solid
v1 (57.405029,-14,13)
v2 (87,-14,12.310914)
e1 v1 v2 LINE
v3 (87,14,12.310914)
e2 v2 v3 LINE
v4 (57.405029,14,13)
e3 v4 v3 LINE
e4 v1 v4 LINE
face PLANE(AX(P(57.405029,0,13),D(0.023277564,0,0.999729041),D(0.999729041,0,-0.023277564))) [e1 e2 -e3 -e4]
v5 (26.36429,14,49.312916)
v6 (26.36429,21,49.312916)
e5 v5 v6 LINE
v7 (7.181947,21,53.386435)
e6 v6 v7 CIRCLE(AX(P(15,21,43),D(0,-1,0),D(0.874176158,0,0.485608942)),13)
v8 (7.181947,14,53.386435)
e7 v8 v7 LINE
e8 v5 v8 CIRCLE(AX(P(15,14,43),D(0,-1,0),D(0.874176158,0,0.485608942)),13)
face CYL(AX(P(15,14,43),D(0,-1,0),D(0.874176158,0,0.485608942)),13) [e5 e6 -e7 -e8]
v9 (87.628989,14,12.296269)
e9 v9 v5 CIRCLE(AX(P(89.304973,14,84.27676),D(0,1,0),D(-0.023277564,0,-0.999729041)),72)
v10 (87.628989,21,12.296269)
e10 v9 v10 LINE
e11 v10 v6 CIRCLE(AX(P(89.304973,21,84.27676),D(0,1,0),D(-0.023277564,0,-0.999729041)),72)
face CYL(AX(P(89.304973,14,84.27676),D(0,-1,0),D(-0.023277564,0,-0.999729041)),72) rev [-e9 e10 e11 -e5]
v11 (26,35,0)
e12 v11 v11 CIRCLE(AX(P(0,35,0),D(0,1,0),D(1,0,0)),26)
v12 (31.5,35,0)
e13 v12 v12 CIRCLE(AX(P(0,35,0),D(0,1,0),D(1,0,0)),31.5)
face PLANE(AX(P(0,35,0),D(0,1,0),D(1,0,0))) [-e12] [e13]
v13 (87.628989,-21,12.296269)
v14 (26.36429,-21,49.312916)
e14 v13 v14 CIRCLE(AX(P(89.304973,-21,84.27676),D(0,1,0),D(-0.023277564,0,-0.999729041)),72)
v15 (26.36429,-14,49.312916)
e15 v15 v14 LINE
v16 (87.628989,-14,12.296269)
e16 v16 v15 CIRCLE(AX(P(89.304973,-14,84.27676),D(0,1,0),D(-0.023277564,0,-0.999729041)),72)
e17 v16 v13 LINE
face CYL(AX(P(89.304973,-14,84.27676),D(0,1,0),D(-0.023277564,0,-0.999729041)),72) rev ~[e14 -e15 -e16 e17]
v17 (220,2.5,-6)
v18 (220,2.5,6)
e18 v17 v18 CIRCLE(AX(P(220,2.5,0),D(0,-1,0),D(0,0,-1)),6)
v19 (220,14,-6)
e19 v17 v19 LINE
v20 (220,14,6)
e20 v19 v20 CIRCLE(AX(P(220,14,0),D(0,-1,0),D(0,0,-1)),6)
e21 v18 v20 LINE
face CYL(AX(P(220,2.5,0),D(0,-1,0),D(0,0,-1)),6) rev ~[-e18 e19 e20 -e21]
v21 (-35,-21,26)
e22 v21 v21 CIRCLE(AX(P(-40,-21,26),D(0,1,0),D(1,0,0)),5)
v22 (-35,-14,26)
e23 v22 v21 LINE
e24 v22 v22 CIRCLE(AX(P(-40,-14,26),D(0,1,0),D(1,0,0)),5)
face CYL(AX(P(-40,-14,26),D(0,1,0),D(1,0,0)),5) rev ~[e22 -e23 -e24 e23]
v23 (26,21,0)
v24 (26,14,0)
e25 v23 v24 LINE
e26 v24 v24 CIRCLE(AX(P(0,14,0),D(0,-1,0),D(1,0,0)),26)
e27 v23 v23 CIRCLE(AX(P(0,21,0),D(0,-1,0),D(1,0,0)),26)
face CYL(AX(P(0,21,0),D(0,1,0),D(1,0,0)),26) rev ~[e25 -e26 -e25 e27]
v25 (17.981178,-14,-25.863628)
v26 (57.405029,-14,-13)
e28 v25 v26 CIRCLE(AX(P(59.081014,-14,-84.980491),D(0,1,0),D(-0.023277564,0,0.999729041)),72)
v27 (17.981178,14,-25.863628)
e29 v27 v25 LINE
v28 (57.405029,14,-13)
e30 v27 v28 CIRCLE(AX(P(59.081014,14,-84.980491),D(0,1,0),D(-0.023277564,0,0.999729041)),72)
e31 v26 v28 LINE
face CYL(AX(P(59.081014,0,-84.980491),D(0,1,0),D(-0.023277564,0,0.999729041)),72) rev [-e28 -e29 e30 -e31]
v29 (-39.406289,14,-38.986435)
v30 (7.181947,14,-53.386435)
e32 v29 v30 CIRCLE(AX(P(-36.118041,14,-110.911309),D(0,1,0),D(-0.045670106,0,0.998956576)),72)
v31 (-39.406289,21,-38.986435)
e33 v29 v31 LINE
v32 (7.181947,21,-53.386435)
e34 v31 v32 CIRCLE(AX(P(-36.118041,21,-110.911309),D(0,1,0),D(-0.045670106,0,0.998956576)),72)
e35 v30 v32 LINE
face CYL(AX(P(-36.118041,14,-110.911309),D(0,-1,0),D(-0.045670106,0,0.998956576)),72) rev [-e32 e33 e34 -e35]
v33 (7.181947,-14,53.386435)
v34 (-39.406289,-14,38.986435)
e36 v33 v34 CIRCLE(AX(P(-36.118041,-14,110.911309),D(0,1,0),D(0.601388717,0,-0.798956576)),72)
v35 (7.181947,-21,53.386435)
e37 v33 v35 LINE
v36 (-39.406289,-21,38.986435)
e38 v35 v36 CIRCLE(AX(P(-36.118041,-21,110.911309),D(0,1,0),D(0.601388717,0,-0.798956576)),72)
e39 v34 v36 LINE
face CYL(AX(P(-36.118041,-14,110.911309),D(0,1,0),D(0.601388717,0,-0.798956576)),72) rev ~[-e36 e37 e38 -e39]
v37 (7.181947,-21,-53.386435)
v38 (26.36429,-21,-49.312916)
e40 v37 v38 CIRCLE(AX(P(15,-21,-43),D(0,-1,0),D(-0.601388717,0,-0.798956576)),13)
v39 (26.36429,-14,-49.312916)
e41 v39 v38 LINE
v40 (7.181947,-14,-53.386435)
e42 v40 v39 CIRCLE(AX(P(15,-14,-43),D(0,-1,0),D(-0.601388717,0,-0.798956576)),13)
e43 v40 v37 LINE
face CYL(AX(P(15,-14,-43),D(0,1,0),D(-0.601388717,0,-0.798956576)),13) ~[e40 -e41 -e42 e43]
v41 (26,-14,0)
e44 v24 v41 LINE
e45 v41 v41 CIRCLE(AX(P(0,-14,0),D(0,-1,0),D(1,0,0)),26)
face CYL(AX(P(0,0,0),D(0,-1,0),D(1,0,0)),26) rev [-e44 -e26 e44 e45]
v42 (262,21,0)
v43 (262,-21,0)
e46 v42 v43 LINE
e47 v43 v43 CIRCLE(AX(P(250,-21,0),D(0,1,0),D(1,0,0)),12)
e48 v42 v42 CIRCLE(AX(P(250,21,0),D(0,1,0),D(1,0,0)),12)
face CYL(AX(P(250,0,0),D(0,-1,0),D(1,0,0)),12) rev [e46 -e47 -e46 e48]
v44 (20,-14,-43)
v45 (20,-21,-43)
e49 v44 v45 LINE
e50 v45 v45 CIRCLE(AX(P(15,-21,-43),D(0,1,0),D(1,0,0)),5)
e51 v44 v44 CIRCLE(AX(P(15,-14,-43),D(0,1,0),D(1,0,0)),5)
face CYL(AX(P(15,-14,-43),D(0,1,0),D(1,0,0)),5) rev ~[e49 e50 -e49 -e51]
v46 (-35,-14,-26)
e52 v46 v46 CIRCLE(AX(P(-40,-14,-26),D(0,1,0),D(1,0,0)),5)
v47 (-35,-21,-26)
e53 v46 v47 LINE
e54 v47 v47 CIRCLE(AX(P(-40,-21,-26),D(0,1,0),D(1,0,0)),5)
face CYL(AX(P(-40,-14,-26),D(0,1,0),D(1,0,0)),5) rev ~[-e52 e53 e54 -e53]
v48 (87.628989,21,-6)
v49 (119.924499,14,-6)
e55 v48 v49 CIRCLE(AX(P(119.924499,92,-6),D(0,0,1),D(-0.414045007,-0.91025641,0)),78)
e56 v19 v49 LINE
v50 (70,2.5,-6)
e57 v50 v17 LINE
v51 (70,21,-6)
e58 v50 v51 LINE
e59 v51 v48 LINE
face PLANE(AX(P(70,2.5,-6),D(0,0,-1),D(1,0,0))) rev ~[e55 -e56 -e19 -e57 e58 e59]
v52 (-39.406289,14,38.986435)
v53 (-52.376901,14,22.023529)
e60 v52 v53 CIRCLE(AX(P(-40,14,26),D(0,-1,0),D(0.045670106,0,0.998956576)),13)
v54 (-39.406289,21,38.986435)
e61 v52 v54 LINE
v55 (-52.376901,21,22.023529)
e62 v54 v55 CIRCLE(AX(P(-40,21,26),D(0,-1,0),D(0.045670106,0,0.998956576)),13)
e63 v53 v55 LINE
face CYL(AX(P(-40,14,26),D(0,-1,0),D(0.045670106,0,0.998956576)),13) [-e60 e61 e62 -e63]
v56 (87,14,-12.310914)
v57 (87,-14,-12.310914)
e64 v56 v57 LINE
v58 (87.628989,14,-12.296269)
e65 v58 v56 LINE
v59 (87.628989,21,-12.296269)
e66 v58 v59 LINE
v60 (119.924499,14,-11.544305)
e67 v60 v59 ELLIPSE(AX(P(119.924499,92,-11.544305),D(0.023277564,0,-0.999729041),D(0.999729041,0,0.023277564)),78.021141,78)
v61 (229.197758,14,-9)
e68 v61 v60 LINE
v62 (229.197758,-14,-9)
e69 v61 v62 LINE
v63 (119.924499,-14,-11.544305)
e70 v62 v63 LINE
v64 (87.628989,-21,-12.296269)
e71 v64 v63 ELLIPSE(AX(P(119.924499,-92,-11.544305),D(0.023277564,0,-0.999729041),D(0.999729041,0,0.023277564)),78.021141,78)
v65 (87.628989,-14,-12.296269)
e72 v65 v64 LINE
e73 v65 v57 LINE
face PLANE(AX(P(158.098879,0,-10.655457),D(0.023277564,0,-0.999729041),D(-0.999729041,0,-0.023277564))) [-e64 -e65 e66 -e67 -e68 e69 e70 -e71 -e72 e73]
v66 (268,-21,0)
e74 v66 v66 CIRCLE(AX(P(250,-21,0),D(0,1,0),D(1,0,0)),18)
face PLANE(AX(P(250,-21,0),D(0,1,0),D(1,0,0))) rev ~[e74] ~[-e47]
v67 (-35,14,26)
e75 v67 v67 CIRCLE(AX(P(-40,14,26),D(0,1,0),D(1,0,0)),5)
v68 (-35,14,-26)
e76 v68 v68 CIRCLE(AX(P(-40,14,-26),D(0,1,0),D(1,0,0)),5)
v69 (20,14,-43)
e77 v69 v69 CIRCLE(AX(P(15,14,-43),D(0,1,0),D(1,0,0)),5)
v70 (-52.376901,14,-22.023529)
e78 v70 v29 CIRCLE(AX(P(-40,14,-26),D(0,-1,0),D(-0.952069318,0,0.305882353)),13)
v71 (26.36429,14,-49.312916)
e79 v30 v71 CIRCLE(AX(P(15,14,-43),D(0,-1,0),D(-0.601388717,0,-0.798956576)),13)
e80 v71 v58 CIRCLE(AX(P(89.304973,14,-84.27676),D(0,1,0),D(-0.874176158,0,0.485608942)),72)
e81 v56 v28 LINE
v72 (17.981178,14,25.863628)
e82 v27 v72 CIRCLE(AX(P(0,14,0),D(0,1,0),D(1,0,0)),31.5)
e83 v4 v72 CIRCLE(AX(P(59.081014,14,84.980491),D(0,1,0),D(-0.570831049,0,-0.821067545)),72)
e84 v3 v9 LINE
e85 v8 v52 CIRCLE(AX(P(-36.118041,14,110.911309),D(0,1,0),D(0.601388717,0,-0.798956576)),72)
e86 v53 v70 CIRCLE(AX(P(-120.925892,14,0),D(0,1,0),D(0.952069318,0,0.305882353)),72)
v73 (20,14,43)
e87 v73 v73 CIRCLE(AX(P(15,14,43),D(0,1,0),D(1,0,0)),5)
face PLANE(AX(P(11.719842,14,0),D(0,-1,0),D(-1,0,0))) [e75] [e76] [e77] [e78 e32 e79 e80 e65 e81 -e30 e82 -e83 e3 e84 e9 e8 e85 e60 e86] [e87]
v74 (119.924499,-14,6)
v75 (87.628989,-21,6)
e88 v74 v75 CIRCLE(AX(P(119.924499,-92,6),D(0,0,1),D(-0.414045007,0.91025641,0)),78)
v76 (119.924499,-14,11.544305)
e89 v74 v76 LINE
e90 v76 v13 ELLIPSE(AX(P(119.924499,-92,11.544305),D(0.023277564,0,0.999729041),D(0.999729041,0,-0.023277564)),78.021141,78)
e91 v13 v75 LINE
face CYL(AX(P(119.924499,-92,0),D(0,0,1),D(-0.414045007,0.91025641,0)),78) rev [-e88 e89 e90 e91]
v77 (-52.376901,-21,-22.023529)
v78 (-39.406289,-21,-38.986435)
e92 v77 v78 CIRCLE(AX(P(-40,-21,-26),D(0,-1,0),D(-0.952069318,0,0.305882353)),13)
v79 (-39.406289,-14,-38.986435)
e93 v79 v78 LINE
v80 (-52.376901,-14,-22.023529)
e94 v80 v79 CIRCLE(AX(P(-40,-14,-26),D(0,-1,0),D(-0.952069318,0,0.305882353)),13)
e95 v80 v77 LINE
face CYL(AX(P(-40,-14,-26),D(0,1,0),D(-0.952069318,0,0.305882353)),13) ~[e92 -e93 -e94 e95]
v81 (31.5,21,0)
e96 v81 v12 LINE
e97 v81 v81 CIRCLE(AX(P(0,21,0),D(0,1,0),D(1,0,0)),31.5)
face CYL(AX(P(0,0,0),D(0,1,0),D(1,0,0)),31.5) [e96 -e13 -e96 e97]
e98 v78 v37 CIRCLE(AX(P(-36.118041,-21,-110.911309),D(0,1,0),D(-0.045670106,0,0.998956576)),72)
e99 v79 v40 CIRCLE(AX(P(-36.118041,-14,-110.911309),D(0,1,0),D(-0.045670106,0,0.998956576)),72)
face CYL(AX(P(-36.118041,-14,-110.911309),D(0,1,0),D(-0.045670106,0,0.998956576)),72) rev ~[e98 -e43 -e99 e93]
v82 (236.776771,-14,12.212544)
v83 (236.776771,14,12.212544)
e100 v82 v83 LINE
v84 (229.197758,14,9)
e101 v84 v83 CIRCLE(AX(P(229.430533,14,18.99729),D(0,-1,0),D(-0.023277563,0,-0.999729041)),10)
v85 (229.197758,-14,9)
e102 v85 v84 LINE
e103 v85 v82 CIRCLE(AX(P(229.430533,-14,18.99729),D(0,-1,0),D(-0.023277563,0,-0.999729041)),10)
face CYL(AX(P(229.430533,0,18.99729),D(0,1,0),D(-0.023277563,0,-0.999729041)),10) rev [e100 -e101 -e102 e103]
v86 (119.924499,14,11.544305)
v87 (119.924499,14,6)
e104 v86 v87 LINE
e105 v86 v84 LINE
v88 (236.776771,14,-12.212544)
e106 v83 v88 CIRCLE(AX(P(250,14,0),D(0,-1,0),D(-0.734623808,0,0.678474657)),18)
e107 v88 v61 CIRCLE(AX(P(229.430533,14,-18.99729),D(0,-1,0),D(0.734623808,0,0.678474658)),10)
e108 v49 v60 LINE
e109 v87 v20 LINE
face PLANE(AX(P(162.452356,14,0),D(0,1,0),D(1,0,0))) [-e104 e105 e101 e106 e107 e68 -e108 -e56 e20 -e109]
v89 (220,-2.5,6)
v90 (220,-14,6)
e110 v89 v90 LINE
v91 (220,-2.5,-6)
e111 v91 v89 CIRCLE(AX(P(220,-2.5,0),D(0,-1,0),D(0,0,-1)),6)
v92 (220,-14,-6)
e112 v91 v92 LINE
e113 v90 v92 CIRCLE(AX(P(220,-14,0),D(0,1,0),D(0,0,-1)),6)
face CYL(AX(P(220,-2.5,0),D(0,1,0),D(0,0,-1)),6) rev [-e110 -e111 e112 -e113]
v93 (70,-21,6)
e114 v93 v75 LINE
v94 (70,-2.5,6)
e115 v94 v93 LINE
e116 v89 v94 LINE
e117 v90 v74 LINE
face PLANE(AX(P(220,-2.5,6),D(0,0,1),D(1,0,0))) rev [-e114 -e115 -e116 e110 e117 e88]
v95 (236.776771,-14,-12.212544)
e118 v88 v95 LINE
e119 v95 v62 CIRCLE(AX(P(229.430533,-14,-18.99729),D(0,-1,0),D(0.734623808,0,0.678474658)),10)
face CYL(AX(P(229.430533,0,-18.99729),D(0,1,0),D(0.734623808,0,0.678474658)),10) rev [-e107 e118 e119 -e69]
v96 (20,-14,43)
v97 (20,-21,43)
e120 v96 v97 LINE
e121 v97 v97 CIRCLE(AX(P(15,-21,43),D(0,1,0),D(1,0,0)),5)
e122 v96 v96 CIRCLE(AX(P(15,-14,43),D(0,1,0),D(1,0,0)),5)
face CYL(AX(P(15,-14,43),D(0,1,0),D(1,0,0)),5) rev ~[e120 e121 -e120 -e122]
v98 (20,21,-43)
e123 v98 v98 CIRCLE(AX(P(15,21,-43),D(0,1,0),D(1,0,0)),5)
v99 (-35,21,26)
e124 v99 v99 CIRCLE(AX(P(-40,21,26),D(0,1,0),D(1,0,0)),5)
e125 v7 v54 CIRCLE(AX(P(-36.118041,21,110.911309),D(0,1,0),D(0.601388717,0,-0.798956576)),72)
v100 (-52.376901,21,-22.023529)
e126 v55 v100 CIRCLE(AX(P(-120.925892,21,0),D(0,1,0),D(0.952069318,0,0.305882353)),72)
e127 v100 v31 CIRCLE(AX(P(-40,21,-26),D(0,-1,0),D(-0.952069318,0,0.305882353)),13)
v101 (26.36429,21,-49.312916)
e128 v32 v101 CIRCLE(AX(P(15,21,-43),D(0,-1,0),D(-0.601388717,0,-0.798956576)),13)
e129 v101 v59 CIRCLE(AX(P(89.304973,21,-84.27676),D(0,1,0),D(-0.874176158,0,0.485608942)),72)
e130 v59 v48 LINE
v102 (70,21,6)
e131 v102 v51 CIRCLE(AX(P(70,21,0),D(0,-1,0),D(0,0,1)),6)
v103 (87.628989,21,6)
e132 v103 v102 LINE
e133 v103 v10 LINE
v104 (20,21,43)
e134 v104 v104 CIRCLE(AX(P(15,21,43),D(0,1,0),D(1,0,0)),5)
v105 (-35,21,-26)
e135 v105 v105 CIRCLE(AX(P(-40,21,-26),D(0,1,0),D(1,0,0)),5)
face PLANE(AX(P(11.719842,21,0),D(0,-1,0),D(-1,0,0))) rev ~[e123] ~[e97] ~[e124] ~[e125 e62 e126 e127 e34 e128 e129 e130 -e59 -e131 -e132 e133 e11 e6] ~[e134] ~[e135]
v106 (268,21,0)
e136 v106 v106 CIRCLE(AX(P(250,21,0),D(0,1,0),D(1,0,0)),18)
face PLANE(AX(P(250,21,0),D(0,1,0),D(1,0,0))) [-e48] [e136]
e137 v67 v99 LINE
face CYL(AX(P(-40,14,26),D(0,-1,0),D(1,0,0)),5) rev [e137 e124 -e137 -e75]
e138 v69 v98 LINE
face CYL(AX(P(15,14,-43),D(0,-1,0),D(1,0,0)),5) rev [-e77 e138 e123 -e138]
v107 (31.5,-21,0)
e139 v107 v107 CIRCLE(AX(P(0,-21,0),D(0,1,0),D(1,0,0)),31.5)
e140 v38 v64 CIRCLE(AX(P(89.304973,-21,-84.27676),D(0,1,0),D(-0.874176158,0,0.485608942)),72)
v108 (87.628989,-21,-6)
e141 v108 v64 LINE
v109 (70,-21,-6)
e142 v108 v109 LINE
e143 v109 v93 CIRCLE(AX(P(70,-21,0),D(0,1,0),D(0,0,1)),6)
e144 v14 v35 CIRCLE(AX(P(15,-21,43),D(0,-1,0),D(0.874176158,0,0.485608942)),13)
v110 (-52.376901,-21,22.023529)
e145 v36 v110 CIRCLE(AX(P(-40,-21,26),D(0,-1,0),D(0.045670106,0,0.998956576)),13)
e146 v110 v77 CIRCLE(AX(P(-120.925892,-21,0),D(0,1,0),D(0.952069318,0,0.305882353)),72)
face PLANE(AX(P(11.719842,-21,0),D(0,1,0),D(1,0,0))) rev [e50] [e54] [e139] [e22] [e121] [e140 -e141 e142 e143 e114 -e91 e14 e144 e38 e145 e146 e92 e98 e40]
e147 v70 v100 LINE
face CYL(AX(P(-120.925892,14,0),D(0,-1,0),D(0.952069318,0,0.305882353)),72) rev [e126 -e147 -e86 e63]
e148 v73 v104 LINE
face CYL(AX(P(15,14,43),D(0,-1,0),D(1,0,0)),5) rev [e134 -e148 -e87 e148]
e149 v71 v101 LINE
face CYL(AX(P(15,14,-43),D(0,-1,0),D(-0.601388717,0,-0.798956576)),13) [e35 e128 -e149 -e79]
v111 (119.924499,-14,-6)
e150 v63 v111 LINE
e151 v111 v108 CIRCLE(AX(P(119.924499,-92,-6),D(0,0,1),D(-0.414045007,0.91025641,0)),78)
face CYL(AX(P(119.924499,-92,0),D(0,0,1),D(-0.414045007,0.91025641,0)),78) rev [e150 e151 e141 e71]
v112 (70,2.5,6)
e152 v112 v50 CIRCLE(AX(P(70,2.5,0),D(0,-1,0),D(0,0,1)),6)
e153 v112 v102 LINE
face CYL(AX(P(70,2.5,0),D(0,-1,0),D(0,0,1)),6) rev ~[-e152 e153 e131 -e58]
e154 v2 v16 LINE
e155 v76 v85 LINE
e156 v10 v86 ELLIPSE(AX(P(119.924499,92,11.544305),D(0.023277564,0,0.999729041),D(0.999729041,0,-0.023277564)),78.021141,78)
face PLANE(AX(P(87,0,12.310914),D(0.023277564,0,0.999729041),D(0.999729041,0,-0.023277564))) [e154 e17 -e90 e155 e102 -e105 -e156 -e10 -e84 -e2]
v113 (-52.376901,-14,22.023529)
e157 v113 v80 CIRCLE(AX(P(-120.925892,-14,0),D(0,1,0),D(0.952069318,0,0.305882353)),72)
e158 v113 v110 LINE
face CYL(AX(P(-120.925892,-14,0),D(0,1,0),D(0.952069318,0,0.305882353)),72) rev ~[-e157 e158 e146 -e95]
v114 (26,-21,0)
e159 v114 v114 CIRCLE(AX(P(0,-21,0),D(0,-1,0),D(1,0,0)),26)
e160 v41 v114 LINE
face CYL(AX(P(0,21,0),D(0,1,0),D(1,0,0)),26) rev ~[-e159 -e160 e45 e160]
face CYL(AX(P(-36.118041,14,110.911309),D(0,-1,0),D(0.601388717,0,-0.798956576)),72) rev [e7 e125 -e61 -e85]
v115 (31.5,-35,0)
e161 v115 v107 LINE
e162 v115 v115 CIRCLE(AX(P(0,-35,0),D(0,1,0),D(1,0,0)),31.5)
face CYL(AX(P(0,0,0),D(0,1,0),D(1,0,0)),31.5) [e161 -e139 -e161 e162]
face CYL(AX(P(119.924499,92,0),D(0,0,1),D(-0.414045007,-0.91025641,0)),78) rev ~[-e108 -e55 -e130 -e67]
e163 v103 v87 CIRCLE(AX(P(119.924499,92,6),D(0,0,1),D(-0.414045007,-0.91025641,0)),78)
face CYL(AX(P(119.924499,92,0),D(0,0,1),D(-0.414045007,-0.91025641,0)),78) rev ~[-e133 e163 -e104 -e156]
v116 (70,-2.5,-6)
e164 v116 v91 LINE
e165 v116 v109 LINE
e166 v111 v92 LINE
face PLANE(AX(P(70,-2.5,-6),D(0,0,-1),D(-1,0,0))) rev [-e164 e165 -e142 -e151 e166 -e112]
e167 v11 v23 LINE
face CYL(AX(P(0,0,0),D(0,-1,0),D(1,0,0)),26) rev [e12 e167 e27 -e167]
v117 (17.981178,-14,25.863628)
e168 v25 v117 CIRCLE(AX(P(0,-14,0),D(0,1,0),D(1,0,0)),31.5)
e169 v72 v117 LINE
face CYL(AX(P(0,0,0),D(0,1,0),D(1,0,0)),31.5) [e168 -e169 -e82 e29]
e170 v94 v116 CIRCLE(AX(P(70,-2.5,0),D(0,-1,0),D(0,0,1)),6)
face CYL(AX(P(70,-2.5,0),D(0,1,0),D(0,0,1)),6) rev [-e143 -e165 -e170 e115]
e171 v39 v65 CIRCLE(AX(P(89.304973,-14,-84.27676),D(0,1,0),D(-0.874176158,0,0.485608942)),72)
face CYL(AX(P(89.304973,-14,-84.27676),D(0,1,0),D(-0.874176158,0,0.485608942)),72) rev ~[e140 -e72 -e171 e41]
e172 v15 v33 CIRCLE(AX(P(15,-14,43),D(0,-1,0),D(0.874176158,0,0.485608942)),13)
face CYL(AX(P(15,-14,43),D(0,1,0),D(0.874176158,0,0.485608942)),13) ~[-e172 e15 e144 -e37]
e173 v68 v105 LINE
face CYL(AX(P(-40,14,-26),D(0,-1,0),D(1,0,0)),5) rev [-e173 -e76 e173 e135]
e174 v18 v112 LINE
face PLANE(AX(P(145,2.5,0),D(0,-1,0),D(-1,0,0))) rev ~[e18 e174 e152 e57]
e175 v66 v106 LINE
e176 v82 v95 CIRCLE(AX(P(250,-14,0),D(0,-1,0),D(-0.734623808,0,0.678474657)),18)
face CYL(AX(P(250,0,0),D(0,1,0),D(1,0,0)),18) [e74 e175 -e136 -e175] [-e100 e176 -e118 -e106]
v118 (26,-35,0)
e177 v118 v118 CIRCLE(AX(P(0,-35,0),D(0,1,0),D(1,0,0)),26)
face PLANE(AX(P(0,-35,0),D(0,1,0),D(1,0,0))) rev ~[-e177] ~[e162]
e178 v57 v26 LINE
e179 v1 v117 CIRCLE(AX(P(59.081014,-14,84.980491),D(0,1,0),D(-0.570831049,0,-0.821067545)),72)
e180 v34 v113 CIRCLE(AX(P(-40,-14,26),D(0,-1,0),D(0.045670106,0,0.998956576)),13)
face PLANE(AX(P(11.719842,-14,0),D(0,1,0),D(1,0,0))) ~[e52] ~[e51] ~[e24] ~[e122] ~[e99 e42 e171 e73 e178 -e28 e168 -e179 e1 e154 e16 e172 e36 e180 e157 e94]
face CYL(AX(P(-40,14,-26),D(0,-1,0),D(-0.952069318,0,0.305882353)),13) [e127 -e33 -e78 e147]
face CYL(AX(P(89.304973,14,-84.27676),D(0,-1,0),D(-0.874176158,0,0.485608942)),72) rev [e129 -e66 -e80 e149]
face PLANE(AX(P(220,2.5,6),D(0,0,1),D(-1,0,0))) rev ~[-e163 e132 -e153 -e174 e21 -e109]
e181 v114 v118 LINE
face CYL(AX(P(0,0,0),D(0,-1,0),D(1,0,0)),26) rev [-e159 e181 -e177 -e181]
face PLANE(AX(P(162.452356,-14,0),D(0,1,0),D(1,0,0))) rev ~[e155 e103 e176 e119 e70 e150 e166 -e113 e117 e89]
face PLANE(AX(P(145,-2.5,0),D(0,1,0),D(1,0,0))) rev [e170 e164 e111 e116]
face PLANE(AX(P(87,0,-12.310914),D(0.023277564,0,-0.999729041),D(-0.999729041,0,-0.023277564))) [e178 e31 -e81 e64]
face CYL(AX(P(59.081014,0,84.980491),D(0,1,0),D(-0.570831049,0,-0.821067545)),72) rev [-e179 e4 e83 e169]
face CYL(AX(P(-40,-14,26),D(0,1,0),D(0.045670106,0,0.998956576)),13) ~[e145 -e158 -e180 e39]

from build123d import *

# Parameters (mm, degrees)
SKETCH1_R           = 31.5
SKETCH1_R_2         = 26
BOSS_EXTRUDE1_DEPTH = 35
SKETCH1_3_R         = 18
SKETCH1_3_R_2       = 12
BOSS_EXTRUDE2_DEPTH = 21
BOSS_EXTRUDE3_DEPTH = 17.5
BOSS_EXTRUDE4_DEPTH = 14
SKETCH3_R           = 5
BOSS_EXTRUDE5_DEPTH = 7
BOSS_EXTRUDE6_REACH = 58
BOSS_EXTRUDE9_REACH = 58
SKETCH6_R           = 26
CUT_EXTRUDE1_DEPTH  = 42
CUT_EXTRUDE2_DEPTH  = 23


with BuildPart() as part:
    # Sketch1 → Boss-Extrude1 (new body, symmetric)
    with BuildSketch(Plane(origin=(0, 0, 0), x_dir=(1, 0, 0), z_dir=(0, 1, 0))):
        Circle(SKETCH1_R)
        Circle(SKETCH1_R_2, mode=Mode.SUBTRACT)
    extrude(amount=BOSS_EXTRUDE1_DEPTH, both=True)

    # Sketch1<5> → Boss-Extrude3 (add, symmetric)
    with BuildSketch(Plane(origin=(0, 0, 0), x_dir=(1, 0, 0), z_dir=(0, 1, 0))):
        with BuildLine():
            ThreePointArc((17.981178031, -25.863627677), (36.746938107, -16.532049941), (57.405028955, -13))
            Line((57.405028955, -13), (87, -12.310914466))
            Line((87, -12.310914466), (87, 12.310914466))
            Line((87, 12.310914466), (57.405028955, 13))
            ThreePointArc((57.405028955, 13), (36.746938107, 16.532049941), (17.981178031, 25.863627677))
            ThreePointArc((17.981178031, 25.863627677), (27.916456688, 14.591828056), (31.5, 0))
            ThreePointArc((31.5, 0), (27.916456688, -14.591828056), (17.981178031, -25.863627677))
        make_face()
    extrude(amount=BOSS_EXTRUDE3_DEPTH, both=True)



with BuildPart() as body_2:
    # Sketch1<3> → Boss-Extrude2 (new body, symmetric)
    with BuildSketch(Plane(origin=(0, 0, 0), x_dir=(1, 0, 0), z_dir=(0, 1, 0))):
        with Locations((250, 0)):
            Circle(SKETCH1_3_R)
        with Locations((250, 0)):
            Circle(SKETCH1_3_R_2, mode=Mode.SUBTRACT)
    extrude(amount=BOSS_EXTRUDE2_DEPTH, both=True)


with BuildPart() as part_1:
    add(part.part)

    add(body_2.part)  # Boss-Extrude4 merges body 2
    # Sketch1<6> → Boss-Extrude4 (add, symmetric)
    with BuildSketch(Plane(origin=(0, 0, 0), x_dir=(1, 0, 0), z_dir=(0, 1, 0))):
        with BuildLine():
            Line((87, 12.310914466), (87, -12.310914466))
            Line((87, -12.310914466), (229.197757742, -9))
            ThreePointArc((229.197757742, -9), (233.333153837, -9.790252147), (236.776771457, -12.212543834))
            ThreePointArc((236.776771457, -12.212543834), (232, 0), (236.776771457, 12.212543834))
            ThreePointArc((236.776771457, 12.212543834), (233.333153837, 9.790252147), (229.197757742, 9))
            Line((229.197757742, 9), (87, 12.310914466))
        make_face()
    extrude(amount=BOSS_EXTRUDE4_DEPTH, both=True)

    # Sketch3 → Boss-Extrude5 (add)
    with BuildSketch(Plane(origin=(0, 14, 0), x_dir=(1, 0, 0), z_dir=(0, 1, 0))):
        with BuildLine():
            Line((87.628988844, 12.29626917), (87.628988844, -12.29626917))
            ThreePointArc((87.628988844, -12.29626917), (52.070762211, -22.651980063), (26.364290052, -49.312916252))
            ThreePointArc((26.364290052, -49.312916252), (17.700433018, -55.716432735), (7.181946677, -53.386435492))
            ThreePointArc((7.181946677, -53.386435492), (-14.855989459, -42.122318837), (-39.406288617, -38.986435492))
            ThreePointArc((-39.406288617, -38.986435492), (-50.326951915, -33.896458963), (-52.376901133, -22.023529412))
            ThreePointArc((-52.376901133, -22.023529412), (-48.925892025, 0), (-52.376901133, 22.023529412))
            ThreePointArc((-52.376901133, 22.023529412), (-50.326951915, 33.896458963), (-39.406288617, 38.986435492))
            ThreePointArc((-39.406288617, 38.986435492), (-14.855989459, 42.122318837), (7.181946677, 53.386435492))
            ThreePointArc((7.181946677, 53.386435492), (17.700433018, 55.716432735), (26.364290052, 49.312916252))
            ThreePointArc((26.364290052, 49.312916252), (52.070762211, 22.651980063), (87.628988844, 12.29626917))
        make_face()
        with Locations((15, 43)):
            Circle(SKETCH3_R, mode=Mode.SUBTRACT)
        with Locations((-40, 26)):
            Circle(SKETCH3_R, mode=Mode.SUBTRACT)
        with Locations((-40, -26)):
            Circle(SKETCH3_R, mode=Mode.SUBTRACT)
        with Locations((15, -43)):
            Circle(SKETCH3_R, mode=Mode.SUBTRACT)
    boss_extrude5 = extrude(amount=BOSS_EXTRUDE5_DEPTH)

    # Mirror1: Boss-Extrude5 across plane
    add(boss_extrude5.mirror(Plane.ZX))

    # Boss-Extrude6: up to this face of the body (flat: up to its plane)
    boss_extrude6_end = Plane(part_1.part.faces().sort_by_distance((143.301393348, 0, 11))[0])
    # Sketch4 → Boss-Extrude6 (add, up to the picked face)
    with BuildSketch(Plane.XY, mode=Mode.PRIVATE) as boss_extrude6_sk1:
        with BuildLine():
            Line((87.628988844, 21), (87.628988844, 14))
            Line((87.628988844, 14), (119.924499368, 14))
            ThreePointArc((119.924499368, 14), (103.401787726, 15.770084612), (87.628988844, 21))
        make_face()
    boss_extrude6_tool1 = split(extrude(boss_extrude6_sk1.sketch, amount=BOSS_EXTRUDE6_REACH, mode=Mode.PRIVATE), bisect_by=boss_extrude6_end, keep=Keep.BOTH, mode=Mode.PRIVATE)
    add(boss_extrude6_tool1.solids().sort_by_distance((95.628627, 16.082796, 0))[0])
    # Sketch4 → Boss-Extrude6 (add, up to the picked face)
    with BuildSketch(Plane.XY, mode=Mode.PRIVATE) as boss_extrude6_sk2:
        with BuildLine():
            Line((87.628988844, -21), (87.628988844, -14))
            Line((87.628988844, -14), (119.924499368, -14))
            ThreePointArc((119.924499368, -14), (103.401787726, -15.770084612), (87.628988844, -21))
        make_face()
    boss_extrude6_tool2 = split(extrude(boss_extrude6_sk2.sketch, amount=BOSS_EXTRUDE6_REACH, mode=Mode.PRIVATE), bisect_by=boss_extrude6_end, keep=Keep.BOTH, mode=Mode.PRIVATE)
    add(boss_extrude6_tool2.solids().sort_by_distance((95.628627, -16.082796, 0))[0])

    # Boss-Extrude9: up to this face of the body (flat: up to its plane)
    boss_extrude9_end = Plane(part_1.part.faces().sort_by_distance((143.301393348, 0, -11))[0])
    # Sketch5 → Boss-Extrude9 (add, up to the picked face)
    with BuildSketch(Plane(origin=(0, 0, 0), x_dir=(-1, 0, 0), z_dir=(0, 0, -1)), mode=Mode.PRIVATE) as boss_extrude9_sk1:
        with BuildLine():
            Line((-119.924499368, -14), (-87.628988844, -14))
            Line((-87.628988844, -14), (-87.628988844, -21))
            ThreePointArc((-87.628988844, -21), (-103.401787726, -15.770084612), (-119.924499368, -14))
        make_face()
    boss_extrude9_tool1 = split(extrude(boss_extrude9_sk1.sketch, amount=BOSS_EXTRUDE9_REACH, mode=Mode.PRIVATE), bisect_by=boss_extrude9_end, keep=Keep.BOTH, mode=Mode.PRIVATE)
    add(boss_extrude9_tool1.solids().sort_by_distance((95.628627, -16.082796, 0))[0])
    # Sketch5 → Boss-Extrude9 (add, up to the picked face)
    with BuildSketch(Plane(origin=(0, 0, 0), x_dir=(-1, 0, 0), z_dir=(0, 0, -1)), mode=Mode.PRIVATE) as boss_extrude9_sk2:
        with BuildLine():
            Line((-119.924499368, 14), (-87.628988844, 14))
            Line((-87.628988844, 14), (-87.628988844, 21))
            ThreePointArc((-87.628988844, 21), (-103.401787726, 15.770084612), (-119.924499368, 14))
        make_face()
    boss_extrude9_tool2 = split(extrude(boss_extrude9_sk2.sketch, amount=BOSS_EXTRUDE9_REACH, mode=Mode.PRIVATE), bisect_by=boss_extrude9_end, keep=Keep.BOTH, mode=Mode.PRIVATE)
    add(boss_extrude9_tool2.solids().sort_by_distance((95.628627, 16.082796, 0))[0])

    # Sketch6 → Cut-Extrude1 (cut)
    with BuildSketch(Plane(origin=(0, 21, 0), x_dir=(1, 0, 0), z_dir=(0, 1, 0))):
        Circle(SKETCH6_R)
    extrude(amount=-CUT_EXTRUDE1_DEPTH, mode=Mode.SUBTRACT)

    # Sketch7 → Cut-Extrude2 (cut)
    with BuildSketch(Plane(origin=(0, 2.5, 0), x_dir=(1, 0, 0), z_dir=(0, 1, 0))):
        with BuildLine():
            Line((220, -6), (70, -6))
            ThreePointArc((70, -6), (64, 0), (70, 6))
            Line((70, 6), (220, 6))
            ThreePointArc((220, 6), (226, 0), (220, -6))
        make_face()
    cut_extrude2 = extrude(amount=CUT_EXTRUDE2_DEPTH, mode=Mode.SUBTRACT)

    # Mirror2: Cut-Extrude2 across plane
    add(cut_extrude2.mirror(Plane.ZX), mode=Mode.SUBTRACT)


solid = part_1.part
